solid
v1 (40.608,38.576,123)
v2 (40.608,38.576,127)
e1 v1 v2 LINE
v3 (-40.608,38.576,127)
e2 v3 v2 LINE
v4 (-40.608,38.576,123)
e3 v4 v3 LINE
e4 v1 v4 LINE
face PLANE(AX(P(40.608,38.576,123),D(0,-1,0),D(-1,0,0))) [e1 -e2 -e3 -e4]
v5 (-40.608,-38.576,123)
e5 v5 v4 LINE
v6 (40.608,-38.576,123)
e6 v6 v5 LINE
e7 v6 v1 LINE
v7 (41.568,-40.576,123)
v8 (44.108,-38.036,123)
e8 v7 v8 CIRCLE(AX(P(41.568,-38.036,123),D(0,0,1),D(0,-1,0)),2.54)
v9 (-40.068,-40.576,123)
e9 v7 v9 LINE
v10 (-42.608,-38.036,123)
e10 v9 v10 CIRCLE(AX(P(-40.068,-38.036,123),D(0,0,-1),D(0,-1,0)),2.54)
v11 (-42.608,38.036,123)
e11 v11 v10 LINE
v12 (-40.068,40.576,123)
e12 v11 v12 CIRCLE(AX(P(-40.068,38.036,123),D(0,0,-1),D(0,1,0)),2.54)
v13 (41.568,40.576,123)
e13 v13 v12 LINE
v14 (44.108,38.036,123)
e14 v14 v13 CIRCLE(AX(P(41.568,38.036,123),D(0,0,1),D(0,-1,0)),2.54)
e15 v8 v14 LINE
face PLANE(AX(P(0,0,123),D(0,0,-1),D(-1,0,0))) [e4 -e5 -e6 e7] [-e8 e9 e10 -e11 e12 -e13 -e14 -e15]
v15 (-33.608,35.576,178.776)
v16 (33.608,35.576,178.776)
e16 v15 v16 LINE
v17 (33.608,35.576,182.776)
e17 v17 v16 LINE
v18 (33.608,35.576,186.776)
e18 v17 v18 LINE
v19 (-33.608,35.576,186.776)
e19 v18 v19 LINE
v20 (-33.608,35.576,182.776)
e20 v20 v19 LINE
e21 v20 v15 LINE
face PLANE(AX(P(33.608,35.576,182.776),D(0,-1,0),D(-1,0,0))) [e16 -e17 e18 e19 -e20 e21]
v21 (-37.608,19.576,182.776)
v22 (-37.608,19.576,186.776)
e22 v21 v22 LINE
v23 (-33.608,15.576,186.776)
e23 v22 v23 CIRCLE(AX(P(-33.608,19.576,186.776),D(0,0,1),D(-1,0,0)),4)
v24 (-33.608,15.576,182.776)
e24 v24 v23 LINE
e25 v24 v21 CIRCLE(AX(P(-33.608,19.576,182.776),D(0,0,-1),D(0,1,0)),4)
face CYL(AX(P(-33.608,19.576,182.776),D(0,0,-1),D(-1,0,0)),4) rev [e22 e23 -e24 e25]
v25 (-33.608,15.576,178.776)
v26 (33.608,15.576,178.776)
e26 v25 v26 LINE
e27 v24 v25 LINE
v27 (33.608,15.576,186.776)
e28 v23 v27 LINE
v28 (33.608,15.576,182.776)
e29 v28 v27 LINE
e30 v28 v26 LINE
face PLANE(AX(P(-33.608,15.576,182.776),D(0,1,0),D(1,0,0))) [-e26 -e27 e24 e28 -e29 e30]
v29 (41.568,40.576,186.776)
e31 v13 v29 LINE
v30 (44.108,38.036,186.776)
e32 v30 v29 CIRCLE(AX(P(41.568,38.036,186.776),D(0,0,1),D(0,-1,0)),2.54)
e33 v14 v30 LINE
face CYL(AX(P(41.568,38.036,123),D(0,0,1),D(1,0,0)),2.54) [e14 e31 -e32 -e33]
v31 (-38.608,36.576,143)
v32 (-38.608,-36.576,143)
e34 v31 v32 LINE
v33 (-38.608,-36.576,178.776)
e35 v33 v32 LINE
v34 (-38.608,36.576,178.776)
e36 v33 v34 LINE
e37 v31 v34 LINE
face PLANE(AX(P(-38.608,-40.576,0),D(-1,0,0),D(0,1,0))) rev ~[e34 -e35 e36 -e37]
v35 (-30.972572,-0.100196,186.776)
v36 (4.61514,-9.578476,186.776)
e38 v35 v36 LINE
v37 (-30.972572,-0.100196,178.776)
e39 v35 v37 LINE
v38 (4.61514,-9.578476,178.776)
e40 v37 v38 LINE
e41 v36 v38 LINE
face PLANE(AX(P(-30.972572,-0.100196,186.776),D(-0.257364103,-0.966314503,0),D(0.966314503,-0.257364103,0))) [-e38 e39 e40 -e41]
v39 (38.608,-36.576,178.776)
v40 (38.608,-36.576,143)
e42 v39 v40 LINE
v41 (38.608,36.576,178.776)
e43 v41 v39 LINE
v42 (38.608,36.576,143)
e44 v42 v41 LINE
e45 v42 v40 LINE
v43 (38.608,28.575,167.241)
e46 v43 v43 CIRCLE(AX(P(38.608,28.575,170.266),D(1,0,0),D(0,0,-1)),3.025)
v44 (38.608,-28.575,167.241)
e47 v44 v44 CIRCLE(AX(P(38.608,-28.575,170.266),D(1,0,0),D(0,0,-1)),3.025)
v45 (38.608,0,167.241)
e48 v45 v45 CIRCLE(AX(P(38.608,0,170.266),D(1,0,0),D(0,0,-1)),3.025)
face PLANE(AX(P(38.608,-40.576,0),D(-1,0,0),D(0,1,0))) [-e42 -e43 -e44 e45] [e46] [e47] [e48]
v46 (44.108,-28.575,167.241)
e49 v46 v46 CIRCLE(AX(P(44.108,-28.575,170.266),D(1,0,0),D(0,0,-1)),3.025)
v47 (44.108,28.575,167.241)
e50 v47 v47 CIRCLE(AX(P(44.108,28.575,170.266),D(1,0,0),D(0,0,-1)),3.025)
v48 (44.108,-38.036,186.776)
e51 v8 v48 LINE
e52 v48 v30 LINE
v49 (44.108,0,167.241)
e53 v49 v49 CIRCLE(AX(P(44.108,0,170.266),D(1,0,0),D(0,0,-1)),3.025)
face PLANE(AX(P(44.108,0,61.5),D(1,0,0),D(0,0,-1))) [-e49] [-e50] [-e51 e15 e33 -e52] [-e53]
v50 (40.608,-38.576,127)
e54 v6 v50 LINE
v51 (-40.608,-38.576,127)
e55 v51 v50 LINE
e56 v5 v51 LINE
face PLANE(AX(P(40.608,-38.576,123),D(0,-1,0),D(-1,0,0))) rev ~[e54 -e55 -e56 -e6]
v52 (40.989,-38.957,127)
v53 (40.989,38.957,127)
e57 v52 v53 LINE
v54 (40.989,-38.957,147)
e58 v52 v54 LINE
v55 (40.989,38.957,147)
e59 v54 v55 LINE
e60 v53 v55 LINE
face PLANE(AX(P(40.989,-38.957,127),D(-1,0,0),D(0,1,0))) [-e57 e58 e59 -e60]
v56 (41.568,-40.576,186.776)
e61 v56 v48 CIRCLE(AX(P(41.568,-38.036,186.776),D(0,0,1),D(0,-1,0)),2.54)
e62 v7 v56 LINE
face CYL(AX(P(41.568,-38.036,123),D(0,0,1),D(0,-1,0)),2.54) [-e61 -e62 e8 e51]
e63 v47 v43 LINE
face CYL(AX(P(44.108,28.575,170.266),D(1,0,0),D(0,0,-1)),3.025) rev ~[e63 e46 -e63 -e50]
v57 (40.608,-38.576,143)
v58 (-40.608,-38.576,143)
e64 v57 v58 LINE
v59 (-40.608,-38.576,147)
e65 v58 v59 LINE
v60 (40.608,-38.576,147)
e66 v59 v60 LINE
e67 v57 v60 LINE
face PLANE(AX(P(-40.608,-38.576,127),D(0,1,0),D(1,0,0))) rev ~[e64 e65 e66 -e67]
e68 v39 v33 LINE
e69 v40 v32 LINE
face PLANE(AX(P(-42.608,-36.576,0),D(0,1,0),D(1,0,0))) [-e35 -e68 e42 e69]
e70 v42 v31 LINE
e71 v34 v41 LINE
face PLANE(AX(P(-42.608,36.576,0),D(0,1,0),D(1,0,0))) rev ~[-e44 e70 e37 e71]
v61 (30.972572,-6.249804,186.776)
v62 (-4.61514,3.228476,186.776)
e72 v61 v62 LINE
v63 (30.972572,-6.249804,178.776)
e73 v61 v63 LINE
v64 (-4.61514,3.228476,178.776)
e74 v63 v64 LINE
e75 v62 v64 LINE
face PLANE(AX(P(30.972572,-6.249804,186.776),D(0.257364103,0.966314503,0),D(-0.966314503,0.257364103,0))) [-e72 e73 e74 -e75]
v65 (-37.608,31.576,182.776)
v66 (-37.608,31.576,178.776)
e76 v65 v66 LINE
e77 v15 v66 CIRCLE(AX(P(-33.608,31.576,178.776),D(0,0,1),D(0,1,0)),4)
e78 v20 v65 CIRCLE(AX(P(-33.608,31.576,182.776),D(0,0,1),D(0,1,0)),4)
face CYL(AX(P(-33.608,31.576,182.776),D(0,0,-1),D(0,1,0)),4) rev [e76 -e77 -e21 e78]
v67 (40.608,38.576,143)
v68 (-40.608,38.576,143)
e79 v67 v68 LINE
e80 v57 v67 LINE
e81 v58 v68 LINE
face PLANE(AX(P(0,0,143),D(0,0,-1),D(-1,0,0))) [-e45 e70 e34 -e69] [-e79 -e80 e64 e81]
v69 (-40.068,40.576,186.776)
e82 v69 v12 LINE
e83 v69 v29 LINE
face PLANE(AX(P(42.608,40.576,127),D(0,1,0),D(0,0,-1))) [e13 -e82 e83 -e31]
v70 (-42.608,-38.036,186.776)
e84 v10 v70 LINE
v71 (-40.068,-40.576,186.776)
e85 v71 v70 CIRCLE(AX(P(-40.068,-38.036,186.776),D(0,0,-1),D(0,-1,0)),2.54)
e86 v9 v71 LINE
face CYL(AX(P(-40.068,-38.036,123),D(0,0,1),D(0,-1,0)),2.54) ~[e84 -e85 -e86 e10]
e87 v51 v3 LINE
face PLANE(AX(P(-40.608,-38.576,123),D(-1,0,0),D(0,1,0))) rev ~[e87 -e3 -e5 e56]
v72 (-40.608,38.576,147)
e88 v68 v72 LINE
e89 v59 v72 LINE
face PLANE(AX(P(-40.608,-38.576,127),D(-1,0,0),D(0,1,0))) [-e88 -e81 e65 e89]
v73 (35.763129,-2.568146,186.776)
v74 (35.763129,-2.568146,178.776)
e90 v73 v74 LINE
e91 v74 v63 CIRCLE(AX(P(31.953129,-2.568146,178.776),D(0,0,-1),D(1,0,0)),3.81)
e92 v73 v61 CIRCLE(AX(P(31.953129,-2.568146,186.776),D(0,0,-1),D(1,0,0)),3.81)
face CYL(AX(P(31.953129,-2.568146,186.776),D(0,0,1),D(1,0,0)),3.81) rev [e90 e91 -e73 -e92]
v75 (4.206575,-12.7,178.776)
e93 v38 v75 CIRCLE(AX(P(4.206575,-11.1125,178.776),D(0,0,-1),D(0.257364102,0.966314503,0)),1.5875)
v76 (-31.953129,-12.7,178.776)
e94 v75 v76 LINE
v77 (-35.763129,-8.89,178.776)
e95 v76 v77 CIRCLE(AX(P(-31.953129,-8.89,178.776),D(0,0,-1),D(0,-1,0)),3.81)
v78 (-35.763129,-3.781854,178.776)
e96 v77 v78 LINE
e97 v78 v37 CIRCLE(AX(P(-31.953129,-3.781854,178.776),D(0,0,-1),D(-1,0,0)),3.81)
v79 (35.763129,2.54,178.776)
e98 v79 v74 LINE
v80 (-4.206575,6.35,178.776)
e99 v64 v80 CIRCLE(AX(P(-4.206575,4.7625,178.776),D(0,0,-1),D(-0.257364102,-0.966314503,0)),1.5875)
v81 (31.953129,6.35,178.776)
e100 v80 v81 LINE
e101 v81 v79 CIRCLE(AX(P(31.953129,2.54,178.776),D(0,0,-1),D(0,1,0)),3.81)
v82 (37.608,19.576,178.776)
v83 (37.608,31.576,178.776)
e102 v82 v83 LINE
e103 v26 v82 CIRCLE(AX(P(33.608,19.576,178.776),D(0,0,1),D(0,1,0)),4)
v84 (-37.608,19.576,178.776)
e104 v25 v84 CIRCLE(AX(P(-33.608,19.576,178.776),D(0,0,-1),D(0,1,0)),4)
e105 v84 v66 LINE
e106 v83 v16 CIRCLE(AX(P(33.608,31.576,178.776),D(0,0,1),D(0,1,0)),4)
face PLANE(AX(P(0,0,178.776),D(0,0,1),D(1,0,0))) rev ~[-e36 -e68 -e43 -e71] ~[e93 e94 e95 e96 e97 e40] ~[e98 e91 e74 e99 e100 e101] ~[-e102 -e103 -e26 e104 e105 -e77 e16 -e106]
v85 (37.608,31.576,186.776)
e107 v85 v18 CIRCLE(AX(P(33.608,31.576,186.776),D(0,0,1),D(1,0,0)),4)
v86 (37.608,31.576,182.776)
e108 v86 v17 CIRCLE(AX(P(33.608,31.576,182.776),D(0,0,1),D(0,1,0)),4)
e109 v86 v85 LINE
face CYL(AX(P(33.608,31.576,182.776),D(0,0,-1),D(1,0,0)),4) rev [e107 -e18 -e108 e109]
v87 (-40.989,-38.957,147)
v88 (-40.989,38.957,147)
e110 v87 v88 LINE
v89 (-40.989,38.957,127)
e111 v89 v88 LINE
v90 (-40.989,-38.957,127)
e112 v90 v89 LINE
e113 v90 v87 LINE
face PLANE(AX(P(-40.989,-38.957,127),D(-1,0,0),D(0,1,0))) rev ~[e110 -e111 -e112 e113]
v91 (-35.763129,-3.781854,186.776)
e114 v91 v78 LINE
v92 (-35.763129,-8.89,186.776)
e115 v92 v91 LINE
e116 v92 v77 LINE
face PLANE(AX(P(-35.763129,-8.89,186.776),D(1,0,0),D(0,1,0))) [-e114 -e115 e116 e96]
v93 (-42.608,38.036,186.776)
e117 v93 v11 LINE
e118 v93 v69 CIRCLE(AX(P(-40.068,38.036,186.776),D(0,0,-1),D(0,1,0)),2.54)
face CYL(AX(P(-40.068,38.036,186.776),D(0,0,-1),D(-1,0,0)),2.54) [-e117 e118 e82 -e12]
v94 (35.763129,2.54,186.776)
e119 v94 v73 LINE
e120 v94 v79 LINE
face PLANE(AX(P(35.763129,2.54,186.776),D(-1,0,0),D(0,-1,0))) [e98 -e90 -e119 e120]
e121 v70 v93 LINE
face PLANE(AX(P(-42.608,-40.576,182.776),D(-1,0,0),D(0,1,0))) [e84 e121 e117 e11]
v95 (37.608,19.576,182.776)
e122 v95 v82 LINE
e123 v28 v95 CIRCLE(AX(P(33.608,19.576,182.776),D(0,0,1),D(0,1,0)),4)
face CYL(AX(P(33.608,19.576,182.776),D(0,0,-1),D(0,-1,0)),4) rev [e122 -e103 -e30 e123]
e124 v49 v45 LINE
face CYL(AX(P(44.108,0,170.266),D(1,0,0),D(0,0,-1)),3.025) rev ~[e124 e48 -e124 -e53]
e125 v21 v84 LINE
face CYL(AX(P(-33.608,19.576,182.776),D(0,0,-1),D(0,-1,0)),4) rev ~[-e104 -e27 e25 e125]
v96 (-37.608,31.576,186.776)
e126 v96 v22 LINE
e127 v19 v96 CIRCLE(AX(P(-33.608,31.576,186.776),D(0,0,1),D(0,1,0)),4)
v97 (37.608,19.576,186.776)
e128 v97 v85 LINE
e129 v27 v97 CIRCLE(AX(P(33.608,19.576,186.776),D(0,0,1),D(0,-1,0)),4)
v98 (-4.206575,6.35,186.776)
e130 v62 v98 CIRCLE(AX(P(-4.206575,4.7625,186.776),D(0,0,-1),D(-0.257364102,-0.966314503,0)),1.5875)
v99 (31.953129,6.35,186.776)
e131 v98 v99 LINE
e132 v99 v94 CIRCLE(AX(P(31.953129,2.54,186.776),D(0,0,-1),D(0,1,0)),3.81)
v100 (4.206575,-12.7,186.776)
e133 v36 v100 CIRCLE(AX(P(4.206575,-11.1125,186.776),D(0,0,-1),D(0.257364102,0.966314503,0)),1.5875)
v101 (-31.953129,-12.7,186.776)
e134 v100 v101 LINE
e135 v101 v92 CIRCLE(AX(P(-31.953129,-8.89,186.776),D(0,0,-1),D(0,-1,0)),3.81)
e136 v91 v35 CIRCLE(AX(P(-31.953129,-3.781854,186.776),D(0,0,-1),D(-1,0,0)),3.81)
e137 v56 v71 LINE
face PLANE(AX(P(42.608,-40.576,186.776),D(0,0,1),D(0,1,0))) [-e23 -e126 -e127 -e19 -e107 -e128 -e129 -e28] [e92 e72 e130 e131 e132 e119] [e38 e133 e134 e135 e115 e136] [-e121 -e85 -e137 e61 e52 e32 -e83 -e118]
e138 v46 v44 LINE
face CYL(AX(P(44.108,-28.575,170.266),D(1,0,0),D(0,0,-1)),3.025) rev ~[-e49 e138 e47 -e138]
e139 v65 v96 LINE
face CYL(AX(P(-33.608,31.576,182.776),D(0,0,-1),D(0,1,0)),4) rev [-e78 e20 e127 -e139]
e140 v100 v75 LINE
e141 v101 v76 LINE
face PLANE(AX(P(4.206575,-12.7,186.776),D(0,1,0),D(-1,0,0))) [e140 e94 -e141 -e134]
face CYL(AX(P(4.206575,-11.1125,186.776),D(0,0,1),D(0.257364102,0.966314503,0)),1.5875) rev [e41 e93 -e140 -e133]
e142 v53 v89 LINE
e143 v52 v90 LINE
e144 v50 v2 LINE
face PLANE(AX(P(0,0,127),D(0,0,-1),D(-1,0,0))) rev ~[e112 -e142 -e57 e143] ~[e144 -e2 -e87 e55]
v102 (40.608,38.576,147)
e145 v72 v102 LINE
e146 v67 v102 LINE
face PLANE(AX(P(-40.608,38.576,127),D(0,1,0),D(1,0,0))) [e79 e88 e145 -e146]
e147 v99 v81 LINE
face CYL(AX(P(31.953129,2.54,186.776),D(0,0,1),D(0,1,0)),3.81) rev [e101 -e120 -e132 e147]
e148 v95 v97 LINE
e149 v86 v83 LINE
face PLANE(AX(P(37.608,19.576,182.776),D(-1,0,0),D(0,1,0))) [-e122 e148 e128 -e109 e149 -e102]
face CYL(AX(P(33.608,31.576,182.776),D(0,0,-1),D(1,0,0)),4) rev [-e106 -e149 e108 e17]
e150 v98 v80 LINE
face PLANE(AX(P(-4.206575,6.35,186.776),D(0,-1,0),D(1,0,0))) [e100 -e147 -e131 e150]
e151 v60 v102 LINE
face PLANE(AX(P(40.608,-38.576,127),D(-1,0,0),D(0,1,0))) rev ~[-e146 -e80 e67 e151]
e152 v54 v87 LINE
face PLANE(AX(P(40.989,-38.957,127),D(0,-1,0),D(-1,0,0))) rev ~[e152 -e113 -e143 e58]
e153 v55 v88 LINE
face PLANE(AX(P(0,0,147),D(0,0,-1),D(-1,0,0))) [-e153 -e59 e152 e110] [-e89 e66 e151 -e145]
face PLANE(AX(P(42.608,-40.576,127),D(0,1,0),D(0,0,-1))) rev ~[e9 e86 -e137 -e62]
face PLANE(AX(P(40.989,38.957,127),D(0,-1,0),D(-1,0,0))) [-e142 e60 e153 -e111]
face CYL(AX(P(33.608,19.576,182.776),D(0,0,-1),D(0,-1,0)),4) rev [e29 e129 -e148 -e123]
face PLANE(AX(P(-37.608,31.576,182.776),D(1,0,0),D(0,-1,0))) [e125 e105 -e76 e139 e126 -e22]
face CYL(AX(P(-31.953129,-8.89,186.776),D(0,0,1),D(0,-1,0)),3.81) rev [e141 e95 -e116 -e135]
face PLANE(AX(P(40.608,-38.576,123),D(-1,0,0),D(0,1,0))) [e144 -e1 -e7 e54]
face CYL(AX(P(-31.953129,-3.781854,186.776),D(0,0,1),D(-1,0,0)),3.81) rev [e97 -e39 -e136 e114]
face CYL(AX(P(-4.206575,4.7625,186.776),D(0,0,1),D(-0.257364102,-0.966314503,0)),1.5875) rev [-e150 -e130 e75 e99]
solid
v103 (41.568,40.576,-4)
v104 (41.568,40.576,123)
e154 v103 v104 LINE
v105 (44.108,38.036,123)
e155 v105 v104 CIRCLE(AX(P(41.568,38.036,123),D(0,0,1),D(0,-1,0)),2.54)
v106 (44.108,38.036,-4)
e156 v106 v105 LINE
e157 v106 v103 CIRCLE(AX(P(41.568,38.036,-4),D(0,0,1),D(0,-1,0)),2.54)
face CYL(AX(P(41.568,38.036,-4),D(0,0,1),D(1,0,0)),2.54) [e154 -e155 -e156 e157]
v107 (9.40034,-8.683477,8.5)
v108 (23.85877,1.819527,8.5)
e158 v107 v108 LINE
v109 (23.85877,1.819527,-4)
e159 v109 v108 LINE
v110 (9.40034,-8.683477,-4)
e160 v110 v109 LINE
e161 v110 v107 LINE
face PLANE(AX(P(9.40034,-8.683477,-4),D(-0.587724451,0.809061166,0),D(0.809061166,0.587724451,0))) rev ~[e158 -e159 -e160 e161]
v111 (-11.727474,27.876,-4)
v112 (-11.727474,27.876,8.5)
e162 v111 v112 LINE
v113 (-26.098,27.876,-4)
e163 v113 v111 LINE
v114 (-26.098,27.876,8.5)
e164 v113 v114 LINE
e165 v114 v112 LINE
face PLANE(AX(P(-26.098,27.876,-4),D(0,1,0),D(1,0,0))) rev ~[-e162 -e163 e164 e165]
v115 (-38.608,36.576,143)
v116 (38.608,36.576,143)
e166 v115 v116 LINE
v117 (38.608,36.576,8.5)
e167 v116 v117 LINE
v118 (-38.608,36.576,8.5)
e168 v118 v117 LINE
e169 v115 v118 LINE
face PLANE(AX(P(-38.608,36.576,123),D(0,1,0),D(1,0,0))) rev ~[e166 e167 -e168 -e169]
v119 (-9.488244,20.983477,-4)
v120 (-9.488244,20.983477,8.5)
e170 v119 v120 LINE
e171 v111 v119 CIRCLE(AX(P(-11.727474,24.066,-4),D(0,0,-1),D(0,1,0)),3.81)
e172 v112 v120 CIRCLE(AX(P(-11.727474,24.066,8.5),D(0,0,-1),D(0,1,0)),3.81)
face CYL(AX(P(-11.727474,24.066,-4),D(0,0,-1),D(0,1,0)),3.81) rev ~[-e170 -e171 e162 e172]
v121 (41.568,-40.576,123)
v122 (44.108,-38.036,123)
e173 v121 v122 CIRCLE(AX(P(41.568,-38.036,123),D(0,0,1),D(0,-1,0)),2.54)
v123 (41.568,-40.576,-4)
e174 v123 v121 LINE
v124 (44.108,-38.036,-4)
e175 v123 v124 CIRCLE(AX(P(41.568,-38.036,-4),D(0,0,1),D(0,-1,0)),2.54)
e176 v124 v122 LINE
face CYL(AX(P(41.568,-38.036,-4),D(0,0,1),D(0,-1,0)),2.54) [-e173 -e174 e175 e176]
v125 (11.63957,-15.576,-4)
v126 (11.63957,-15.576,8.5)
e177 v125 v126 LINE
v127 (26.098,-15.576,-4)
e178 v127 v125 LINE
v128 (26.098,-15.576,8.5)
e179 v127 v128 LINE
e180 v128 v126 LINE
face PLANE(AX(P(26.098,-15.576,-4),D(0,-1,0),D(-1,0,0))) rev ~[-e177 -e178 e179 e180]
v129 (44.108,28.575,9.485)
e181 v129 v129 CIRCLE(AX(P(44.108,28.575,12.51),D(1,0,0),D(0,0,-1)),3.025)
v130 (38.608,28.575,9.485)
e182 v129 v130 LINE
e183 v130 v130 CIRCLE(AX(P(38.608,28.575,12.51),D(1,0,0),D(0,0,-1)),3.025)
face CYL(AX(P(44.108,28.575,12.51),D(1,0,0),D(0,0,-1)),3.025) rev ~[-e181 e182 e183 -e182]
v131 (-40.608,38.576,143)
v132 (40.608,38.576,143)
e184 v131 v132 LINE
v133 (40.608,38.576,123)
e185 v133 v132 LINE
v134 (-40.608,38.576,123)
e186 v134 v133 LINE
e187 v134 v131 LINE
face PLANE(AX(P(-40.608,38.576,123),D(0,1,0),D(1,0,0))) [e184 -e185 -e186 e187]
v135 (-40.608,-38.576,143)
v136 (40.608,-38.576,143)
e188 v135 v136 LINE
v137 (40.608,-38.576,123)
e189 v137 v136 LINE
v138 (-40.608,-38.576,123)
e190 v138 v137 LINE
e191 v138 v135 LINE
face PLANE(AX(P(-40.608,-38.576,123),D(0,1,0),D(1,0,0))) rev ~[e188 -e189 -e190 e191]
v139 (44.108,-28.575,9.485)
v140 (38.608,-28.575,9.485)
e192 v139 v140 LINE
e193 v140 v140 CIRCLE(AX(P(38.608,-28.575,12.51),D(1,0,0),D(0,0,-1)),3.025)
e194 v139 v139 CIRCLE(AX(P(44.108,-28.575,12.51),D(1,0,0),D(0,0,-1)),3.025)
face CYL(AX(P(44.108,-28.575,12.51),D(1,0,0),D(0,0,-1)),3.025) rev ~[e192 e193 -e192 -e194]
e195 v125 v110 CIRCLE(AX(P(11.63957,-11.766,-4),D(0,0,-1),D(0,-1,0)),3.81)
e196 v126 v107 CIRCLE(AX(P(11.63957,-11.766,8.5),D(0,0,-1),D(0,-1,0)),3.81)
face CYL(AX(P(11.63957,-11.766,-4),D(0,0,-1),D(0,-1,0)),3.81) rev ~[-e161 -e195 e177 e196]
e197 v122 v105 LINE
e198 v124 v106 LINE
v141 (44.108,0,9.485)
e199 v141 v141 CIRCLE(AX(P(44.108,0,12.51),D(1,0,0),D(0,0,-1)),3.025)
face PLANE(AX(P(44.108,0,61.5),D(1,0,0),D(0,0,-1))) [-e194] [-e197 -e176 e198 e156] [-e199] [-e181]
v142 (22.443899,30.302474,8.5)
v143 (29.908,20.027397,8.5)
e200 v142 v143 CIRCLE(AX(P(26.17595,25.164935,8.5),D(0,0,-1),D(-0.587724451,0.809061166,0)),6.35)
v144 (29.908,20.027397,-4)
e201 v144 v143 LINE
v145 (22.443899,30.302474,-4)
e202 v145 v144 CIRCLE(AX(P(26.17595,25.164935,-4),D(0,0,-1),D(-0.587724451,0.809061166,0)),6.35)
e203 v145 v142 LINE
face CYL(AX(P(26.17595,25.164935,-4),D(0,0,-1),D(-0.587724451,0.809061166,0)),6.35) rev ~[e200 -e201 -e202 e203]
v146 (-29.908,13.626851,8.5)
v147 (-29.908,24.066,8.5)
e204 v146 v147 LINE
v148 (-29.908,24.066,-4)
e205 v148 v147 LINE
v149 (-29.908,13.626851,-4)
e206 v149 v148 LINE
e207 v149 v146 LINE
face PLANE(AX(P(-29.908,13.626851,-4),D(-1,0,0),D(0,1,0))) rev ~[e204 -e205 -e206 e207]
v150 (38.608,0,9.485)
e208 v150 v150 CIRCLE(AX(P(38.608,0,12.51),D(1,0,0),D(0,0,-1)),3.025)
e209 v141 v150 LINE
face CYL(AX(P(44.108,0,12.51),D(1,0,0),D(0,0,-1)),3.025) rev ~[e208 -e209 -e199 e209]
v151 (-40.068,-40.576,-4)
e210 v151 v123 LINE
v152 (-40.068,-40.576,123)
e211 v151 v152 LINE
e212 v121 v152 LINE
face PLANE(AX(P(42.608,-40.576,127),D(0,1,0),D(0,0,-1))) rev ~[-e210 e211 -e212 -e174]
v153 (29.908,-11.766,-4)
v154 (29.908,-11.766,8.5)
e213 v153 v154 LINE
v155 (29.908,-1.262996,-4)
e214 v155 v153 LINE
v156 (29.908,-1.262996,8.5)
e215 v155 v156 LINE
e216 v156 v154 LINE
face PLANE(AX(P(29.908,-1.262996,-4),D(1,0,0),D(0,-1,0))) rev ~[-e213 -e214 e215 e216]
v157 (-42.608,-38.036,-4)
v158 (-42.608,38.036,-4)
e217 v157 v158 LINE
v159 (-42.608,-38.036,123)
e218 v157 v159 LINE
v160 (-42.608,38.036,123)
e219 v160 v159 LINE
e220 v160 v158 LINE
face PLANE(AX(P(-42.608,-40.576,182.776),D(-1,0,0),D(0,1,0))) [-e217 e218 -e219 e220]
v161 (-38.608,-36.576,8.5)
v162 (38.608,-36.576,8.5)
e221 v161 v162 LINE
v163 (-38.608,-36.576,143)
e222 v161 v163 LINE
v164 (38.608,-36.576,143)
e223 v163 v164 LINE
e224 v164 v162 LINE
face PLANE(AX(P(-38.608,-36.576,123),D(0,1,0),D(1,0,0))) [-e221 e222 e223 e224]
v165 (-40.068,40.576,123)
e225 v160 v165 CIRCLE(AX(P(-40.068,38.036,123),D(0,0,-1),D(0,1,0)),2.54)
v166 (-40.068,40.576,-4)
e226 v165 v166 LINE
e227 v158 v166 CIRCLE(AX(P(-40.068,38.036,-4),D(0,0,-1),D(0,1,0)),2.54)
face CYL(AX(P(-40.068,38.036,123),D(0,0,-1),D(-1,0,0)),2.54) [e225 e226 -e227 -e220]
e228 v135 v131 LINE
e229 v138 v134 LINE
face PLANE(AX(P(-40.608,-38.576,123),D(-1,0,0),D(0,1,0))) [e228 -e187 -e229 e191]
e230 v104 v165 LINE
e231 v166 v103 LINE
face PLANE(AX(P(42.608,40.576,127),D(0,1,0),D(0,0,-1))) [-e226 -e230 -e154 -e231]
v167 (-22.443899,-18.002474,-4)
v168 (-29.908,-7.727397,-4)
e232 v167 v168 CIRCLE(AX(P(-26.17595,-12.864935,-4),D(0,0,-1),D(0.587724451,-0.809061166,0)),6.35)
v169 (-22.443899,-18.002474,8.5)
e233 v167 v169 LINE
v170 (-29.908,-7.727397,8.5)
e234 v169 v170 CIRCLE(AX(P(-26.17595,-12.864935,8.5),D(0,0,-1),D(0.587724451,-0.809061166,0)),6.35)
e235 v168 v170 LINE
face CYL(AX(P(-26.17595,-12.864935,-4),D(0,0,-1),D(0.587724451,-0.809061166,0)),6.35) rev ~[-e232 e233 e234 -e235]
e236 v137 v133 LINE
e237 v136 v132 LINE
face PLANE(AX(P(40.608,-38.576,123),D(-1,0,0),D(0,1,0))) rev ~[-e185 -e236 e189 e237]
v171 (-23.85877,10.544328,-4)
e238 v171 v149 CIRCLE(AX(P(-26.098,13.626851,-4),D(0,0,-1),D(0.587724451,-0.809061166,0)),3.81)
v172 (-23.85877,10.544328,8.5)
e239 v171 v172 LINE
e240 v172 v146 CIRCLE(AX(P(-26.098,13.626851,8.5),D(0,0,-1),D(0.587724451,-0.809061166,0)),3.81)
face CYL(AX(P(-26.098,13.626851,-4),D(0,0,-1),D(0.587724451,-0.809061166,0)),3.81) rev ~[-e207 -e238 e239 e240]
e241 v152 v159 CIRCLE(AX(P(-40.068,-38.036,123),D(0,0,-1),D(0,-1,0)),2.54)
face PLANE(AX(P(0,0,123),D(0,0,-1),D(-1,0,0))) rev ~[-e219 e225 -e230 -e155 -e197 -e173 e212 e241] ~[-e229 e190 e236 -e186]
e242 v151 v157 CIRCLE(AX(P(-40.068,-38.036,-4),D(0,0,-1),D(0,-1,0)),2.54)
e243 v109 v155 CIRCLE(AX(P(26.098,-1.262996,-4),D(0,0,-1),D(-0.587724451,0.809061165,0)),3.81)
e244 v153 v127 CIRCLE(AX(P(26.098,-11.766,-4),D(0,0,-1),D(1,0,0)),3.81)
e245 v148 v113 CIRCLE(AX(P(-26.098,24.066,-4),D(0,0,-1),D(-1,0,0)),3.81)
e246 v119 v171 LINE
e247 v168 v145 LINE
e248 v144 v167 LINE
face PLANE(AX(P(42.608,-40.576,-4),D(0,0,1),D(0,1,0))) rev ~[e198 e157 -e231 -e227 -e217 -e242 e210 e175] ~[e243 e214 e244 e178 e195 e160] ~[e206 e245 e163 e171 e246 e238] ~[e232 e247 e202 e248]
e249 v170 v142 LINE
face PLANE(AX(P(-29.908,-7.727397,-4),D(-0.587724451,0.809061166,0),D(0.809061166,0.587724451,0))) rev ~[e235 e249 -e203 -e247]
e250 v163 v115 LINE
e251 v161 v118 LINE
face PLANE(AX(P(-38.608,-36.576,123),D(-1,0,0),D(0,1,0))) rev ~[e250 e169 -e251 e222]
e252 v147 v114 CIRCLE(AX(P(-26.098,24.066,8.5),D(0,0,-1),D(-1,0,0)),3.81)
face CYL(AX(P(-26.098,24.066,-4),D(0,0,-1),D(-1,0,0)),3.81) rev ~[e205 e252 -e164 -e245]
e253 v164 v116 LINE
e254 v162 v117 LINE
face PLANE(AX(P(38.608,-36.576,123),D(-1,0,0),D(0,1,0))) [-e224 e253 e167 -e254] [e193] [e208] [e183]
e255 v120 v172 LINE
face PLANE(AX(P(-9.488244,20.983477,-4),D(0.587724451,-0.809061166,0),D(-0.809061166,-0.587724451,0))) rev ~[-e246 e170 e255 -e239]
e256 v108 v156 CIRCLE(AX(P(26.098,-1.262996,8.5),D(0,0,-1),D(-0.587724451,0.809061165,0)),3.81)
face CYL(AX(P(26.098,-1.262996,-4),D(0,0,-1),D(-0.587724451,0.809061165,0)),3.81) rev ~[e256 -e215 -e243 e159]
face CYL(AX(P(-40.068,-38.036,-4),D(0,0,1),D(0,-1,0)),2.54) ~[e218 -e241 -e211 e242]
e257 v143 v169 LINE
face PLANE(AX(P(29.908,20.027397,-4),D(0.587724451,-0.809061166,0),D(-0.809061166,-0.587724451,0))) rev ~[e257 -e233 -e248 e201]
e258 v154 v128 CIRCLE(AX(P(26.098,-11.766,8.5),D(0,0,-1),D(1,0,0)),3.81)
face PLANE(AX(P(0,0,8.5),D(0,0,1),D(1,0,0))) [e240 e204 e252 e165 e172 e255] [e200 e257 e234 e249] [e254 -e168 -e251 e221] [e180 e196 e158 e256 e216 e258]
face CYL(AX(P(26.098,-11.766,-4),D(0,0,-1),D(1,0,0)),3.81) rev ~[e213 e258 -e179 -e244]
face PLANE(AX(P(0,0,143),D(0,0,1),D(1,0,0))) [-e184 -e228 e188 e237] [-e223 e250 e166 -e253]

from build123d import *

# Parameters (mm, degrees)
SKETCH1_W            = 85.216
SKETCH1_H            = 81.152
BOSS_EXTRUDE1_DEPTH  = 182.776
SHELL2_T             = -4
SHELL3_T             = -4
SKETCH4_W            = 81.216
SKETCH4_H            = 77.152
SKETCH4_W_2          = 77.216
SKETCH4_H_2          = 73.152
BOSS_EXTRUDE2_DEPTH  = 20
SKETCH5_W            = 81.978
SKETCH5_H            = 77.914
SKETCH5_W_2          = 77.216
SKETCH5_H_2          = 73.152
CUT_EXTRUDE2_DEPTH   = 20
SKETCH6_W            = 75.216
SKETCH6_H            = 20
CUT_EXTRUDE3_DEPTH   = 4
FILLET3_R            = 4
SKETCH7_W            = 85.216
SKETCH7_H            = 81.152
BOSS_EXTRUDE3_DEPTH  = 4
SKETCH8_W            = 85.216
SKETCH8_H            = 81.152
BOSS_EXTRUDE4_DEPTH  = 4
SKETCH9_R            = 3.025
CUT_EXTRUDE4_DEPTH   = 6
SKETCH10_W           = 77.216
SKETCH10_H           = 73.152
BOSS_EXTRUDE5_DEPTH  = 4.500000096
CUT_EXTRUDE5_DEPTH   = 12.5
CUT_EXTRUDE6_DEPTH   = 8
SKETCH13_W           = 59.776
SKETCH13_H           = 81.152
BOSS_EXTRUDE7_DEPTH  = 1.5
SKETCH15_W           = 131
SKETCH15_H           = 81.152
BOSS_EXTRUDE8_DEPTH  = 1.5
FILLET4_R            = 2.54
FILLET5_R            = 2.54
SKETCH16_R           = 3.025
CUT_EXTRUDE9_DEPTH   = 19.5
SKETCH18_W           = 62.209478129
SKETCH18_H           = 16.943734599
BOSS_EXTRUDE9_DEPTH  = 8
SKETCH19_W           = 60.72535539
SKETCH19_H           = 14.841227386
BOSS_EXTRUDE10_DEPTH = 12.5
SKETCH20_W           = 81.216
SKETCH20_H           = 77.152
SKETCH20_W_2         = 77.216
SKETCH20_H_2         = 73.152
BOSS_EXTRUDE11_DEPTH = 20
SKETCH21_W           = 81.216
SKETCH21_H           = 77.152
CUT_EXTRUDE10_DEPTH  = 20


with BuildPart() as part:
    # Sketch1 → Boss-Extrude1 (new body)
    with BuildSketch(Plane.XY):
        Rectangle(SKETCH1_W, SKETCH1_H)
    extrude(amount=BOSS_EXTRUDE1_DEPTH)


with BuildPart() as body_2:
    # Split1: the piece on the far side of the plane
    add(part.part)
    split(bisect_by=Plane(origin=(0, 0, 127), x_dir=(-1, 0, 0), z_dir=(0, 0, -1)), keep=Keep.BOTTOM)

    # Shell3
    shell3_openings = [body_2.faces().sort_by_distance(p)[0] for p in [
        (0, 0, 127),
    ]]
    offset(amount=SHELL3_T, openings=shell3_openings, kind=Kind.INTERSECTION)

    # Sketch5 → Cut-Extrude2 (cut)
    with BuildSketch(Plane(origin=(0, 0, 127), x_dir=(-1, 0, 0), z_dir=(0, 0, -1))):
        Rectangle(SKETCH5_W, SKETCH5_H)
        Rectangle(SKETCH5_W_2, SKETCH5_H_2, mode=Mode.SUBTRACT)
    extrude(amount=-CUT_EXTRUDE2_DEPTH, mode=Mode.SUBTRACT)

    # Sketch6 → Cut-Extrude3 (cut)
    with BuildSketch(Plane.XY.offset(182.776)):
        with Locations((0, 25.576)):
            Rectangle(SKETCH6_W, SKETCH6_H)
    extrude(amount=-CUT_EXTRUDE3_DEPTH, mode=Mode.SUBTRACT)

    # Fillet3
    fillet3_edges = [body_2.edges().sort_by_distance(p)[0] for p in [
        (37.608, 35.576, 180.776),
        (37.608, 15.576, 180.776),
        (-37.608, 15.576, 180.776),
        (-37.608, 35.576, 180.776),
    ]]
    fillet(fillet3_edges, radius=FILLET3_R)

    # Sketch7 → Boss-Extrude3 (add)
    with BuildSketch(Plane.XY.offset(182.776)):
        Rectangle(SKETCH7_W, SKETCH7_H)
        with BuildLine():
            Line((-33.608, 15.576), (33.608, 15.576))
            ThreePointArc((33.608, 15.576), (36.436427125, 16.747572875), (37.608, 19.576))
            Line((37.608, 19.576), (37.608, 31.576))
            ThreePointArc((37.608, 31.576), (36.436427125, 34.404427125), (33.608, 35.576))
            Line((33.608, 35.576), (-33.608, 35.576))
            ThreePointArc((-33.608, 35.576), (-36.436427125, 34.404427125), (-37.608, 31.576))
            Line((-37.608, 31.576), (-37.608, 19.576))
            ThreePointArc((-37.608, 19.576), (-36.436427125, 16.747572875), (-33.608, 15.576))
        make_face(mode=Mode.SUBTRACT)
    extrude(amount=BOSS_EXTRUDE3_DEPTH)

    # Sketch9 → Cut-Extrude4 (cut)
    with BuildSketch(Plane.XY.offset(186.776)):
        with Locations((-21.304, -27.876)):
            Circle(SKETCH9_R)
        with Locations((0, -27.876)):
            Circle(SKETCH9_R)
        with Locations((21.304, -27.876)):
            Circle(SKETCH9_R)
    cut_extrude4 = extrude(amount=-CUT_EXTRUDE4_DEPTH, mode=Mode.SUBTRACT)

    # Sketch12 → Cut-Extrude6 (cut)
    with BuildSketch(Plane.XY.offset(186.776)):
        with BuildLine():
            Line((-30.972571902, -0.100195505), (4.615140384, -9.578475727))
            ThreePointArc((4.615140384, -9.578475727), (5.780649168, -11.318525139), (4.206574871, -12.7))
            Line((4.206574871, -12.7), (-31.953129133, -12.7))
            ThreePointArc((-31.953129133, -12.7), (-34.64720597, -11.584076836), (-35.763129133, -8.89))
            Line((-35.763129133, -8.89), (-35.763129133, -3.781853761))
            ThreePointArc((-35.763129133, -3.781853761), (-34.274785541, -0.760924844), (-30.972571902, -0.100195505))
        make_face()
        with BuildLine():
            Line((-4.206574871, 6.35), (31.953129133, 6.35))
            ThreePointArc((31.953129133, 6.35), (34.64720597, 5.234076836), (35.763129133, 2.54))
            Line((35.763129133, 2.54), (35.763129133, -2.568146239))
            ThreePointArc((35.763129133, -2.568146239), (34.274785541, -5.589075156), (30.972571902, -6.249804495))
            Line((30.972571902, -6.249804495), (-4.615140384, 3.228475727))
            ThreePointArc((-4.615140384, 3.228475727), (-5.780649168, 4.968525139), (-4.206574871, 6.35))
        make_face()
    extrude(amount=-CUT_EXTRUDE6_DEPTH, mode=Mode.SUBTRACT)


with BuildPart() as part_1:
    add(part.part)

    # Split1
    split(bisect_by=Plane(origin=(0, 0, 127), x_dir=(-1, 0, 0), z_dir=(0, 0, -1)), keep=Keep.TOP)

    # Shell2
    shell2_openings = [part_1.faces().sort_by_distance(p)[0] for p in [
        (0, 0, 127),
    ]]
    offset(amount=SHELL2_T, openings=shell2_openings, kind=Kind.INTERSECTION)

    # Sketch4 → Boss-Extrude2 (add)
    with BuildSketch(Plane.XY.offset(127)):
        Rectangle(SKETCH4_W, SKETCH4_H)
        Rectangle(SKETCH4_W_2, SKETCH4_H_2, mode=Mode.SUBTRACT)
    extrude(amount=BOSS_EXTRUDE2_DEPTH)

    # Sketch8 → Boss-Extrude4 (add)
    with BuildSketch(Plane(origin=(0, 0, 0), x_dir=(-1, 0, 0), z_dir=(0, 0, -1))):
        Rectangle(SKETCH8_W, SKETCH8_H)
    extrude(amount=BOSS_EXTRUDE4_DEPTH)

    # Mirror1: Cut-Extrude4 across plane
    add(cut_extrude4.mirror(Plane.XY.offset(91.388)), mode=Mode.SUBTRACT)

    # Sketch10 → Boss-Extrude5 (add)
    with BuildSketch(Plane.XY.offset(4)):
        Rectangle(SKETCH10_W, SKETCH10_H)
    extrude(amount=BOSS_EXTRUDE5_DEPTH)

    # Sketch11 → Cut-Extrude5 (cut)
    with BuildSketch(Plane(origin=(0, 0, -4), x_dir=(-1, 0, 0), z_dir=(0, 0, -1))):
        with BuildLine():
            ThreePointArc((29.908, 24.066), (28.792076836, 26.760076836), (26.098, 27.876))
            Line((26.098, 27.876), (11.727473696, 27.876))
            ThreePointArc((11.727473696, 27.876), (8.103904131, 25.243218589), (9.488243538, 20.983476959))
            Line((9.488243538, 20.983476959), (23.858769841, 10.544328421))
            ThreePointArc((23.858769841, 10.544328421), (27.827831364, 10.232181603), (29.908, 13.626851462))
            Line((29.908, 13.626851462), (29.908, 24.066))
        make_face()
        with BuildLine():
            ThreePointArc((-23.858769841, 1.819526927), (-27.827831364, 2.131673746), (-29.908, -1.262996113))
            Line((-29.908, -1.262996113), (-29.908, -11.766))
            ThreePointArc((-29.908, -11.766), (-28.792076836, -14.460076836), (-26.098, -15.576))
            Line((-26.098, -15.576), (-11.639570458, -15.576))
            ThreePointArc((-11.639570458, -15.576), (-8.016000893, -12.943218589), (-9.400340299, -8.683476959))
            Line((-9.400340299, -8.683476959), (-23.858769841, 1.819526927))
        make_face()
        with BuildLine():
            ThreePointArc((22.443899471, -18.002473668), (31.313488137, -16.596985531), (29.908, -7.727396865))
            Line((29.908, -7.727396865), (-22.443899471, 30.302473668))
            ThreePointArc((-22.443899471, 30.302473668), (-31.313488137, 28.896985531), (-29.908, 20.027396865))
            Line((-29.908, 20.027396865), (22.443899471, -18.002473668))
        make_face()
    extrude(amount=-CUT_EXTRUDE5_DEPTH, mode=Mode.SUBTRACT)

    add(body_2.part)  # Boss-Extrude7 merges body 2
    # Sketch13 → Boss-Extrude7 (add)
    with BuildSketch(Plane.ZY.offset(-42.608)):
        with Locations((156.888, 0)):
            Rectangle(SKETCH13_W, SKETCH13_H)
    extrude(amount=-BOSS_EXTRUDE7_DEPTH)

    # Sketch15 → Boss-Extrude8 (add)
    with BuildSketch(Plane(origin=(42.608, 0, 0), x_dir=(0, 0, -1), z_dir=(1, 0, 0))):
        with Locations((-61.5, 0)):
            Rectangle(SKETCH15_W, SKETCH15_H)
    extrude(amount=BOSS_EXTRUDE8_DEPTH)


with BuildPart() as body_2_2:
    # Split2: the piece on the far side of the plane
    add(part_1.part)
    split(bisect_by=Plane(origin=(0, 0, 123), x_dir=(-1, 0, 0), z_dir=(0, 0, -1)), keep=Keep.BOTTOM)

    # Fillet4
    fillet4_edges = [body_2_2.edges().sort_by_distance(p)[0] for p in [
        (44.108, -40.576, 154.888),
        (44.108, 40.576, 154.888),
        (-42.608, 40.576, 154.888),
        (-42.608, -40.576, 154.888),
    ]]
    fillet(fillet4_edges, radius=FILLET4_R)


with BuildPart() as part_2:
    add(part_1.part)

    # Split2
    split(bisect_by=Plane(origin=(0, 0, 123), x_dir=(-1, 0, 0), z_dir=(0, 0, -1)), keep=Keep.TOP)

    # Fillet5
    fillet5_edges = [part_2.edges().sort_by_distance(p)[0] for p in [
        (44.108, -40.576, 59.5),
        (44.108, 40.576, 59.5),
        (-42.608, 40.576, 59.5),
        (-42.608, -40.576, 59.5),
    ]]
    fillet(fillet5_edges, radius=FILLET5_R)


with BuildPart() as cut_extrude9_tool:
    # Sketch16 → Cut-Extrude9 (new body)
    with BuildSketch(Plane(origin=(44.108, 0, 0), x_dir=(0, 0, -1), z_dir=(1, 0, 0))):
        with Locations((-170.266, 28.575)):
            Circle(SKETCH16_R)
        with Locations((-170.266, 0)):
            Circle(SKETCH16_R)
        with Locations((-170.266, -28.575)):
            Circle(SKETCH16_R)
        with Locations((-12.51, 28.575)):
            Circle(SKETCH16_R)
        with Locations((-12.51, 0)):
            Circle(SKETCH16_R)
        with Locations((-12.51, -28.575)):
            Circle(SKETCH16_R)
    extrude(amount=-CUT_EXTRUDE9_DEPTH)


with BuildPart() as part_3:
    add(part_2.part)

    # Cut-Extrude9: cut by cut_extrude9_tool
    add(cut_extrude9_tool.part, mode=Mode.SUBTRACT)

    # Sketch19 → Boss-Extrude10 (add)
    with BuildSketch(Plane(origin=(0, 0, -4), x_dir=(-1, 0, 0), z_dir=(0, 0, -1))):
        with Locations((-1.053899817, -28.260170482)):
            Rectangle(SKETCH19_W, SKETCH19_H)
    extrude(amount=-BOSS_EXTRUDE10_DEPTH)

    # Sketch20 → Boss-Extrude11 (add)
    with BuildSketch(Plane.XY.offset(123)):
        Rectangle(SKETCH20_W, SKETCH20_H)
        Rectangle(SKETCH20_W_2, SKETCH20_H_2, mode=Mode.SUBTRACT)
    extrude(amount=BOSS_EXTRUDE11_DEPTH)


with BuildPart() as body_2_2_1:
    add(body_2_2.part)

    # Cut-Extrude9: cut by cut_extrude9_tool
    add(cut_extrude9_tool.part, mode=Mode.SUBTRACT)

    # Sketch18 → Boss-Extrude9 (add)
    with BuildSketch(Plane.XY.offset(186.776)):
        with Locations((0.188161552, -26.961563086)):
            Rectangle(SKETCH18_W, SKETCH18_H)
    extrude(amount=-BOSS_EXTRUDE9_DEPTH)

    # Sketch21 → Cut-Extrude10 (cut)
    with BuildSketch(Plane(origin=(0, 0, 123), x_dir=(-1, 0, 0), z_dir=(0, 0, -1))):
        Rectangle(SKETCH21_W, SKETCH21_H)
    extrude(amount=-CUT_EXTRUDE10_DEPTH, mode=Mode.SUBTRACT)


solid = Compound([part_3.part, body_2_2_1.part])
